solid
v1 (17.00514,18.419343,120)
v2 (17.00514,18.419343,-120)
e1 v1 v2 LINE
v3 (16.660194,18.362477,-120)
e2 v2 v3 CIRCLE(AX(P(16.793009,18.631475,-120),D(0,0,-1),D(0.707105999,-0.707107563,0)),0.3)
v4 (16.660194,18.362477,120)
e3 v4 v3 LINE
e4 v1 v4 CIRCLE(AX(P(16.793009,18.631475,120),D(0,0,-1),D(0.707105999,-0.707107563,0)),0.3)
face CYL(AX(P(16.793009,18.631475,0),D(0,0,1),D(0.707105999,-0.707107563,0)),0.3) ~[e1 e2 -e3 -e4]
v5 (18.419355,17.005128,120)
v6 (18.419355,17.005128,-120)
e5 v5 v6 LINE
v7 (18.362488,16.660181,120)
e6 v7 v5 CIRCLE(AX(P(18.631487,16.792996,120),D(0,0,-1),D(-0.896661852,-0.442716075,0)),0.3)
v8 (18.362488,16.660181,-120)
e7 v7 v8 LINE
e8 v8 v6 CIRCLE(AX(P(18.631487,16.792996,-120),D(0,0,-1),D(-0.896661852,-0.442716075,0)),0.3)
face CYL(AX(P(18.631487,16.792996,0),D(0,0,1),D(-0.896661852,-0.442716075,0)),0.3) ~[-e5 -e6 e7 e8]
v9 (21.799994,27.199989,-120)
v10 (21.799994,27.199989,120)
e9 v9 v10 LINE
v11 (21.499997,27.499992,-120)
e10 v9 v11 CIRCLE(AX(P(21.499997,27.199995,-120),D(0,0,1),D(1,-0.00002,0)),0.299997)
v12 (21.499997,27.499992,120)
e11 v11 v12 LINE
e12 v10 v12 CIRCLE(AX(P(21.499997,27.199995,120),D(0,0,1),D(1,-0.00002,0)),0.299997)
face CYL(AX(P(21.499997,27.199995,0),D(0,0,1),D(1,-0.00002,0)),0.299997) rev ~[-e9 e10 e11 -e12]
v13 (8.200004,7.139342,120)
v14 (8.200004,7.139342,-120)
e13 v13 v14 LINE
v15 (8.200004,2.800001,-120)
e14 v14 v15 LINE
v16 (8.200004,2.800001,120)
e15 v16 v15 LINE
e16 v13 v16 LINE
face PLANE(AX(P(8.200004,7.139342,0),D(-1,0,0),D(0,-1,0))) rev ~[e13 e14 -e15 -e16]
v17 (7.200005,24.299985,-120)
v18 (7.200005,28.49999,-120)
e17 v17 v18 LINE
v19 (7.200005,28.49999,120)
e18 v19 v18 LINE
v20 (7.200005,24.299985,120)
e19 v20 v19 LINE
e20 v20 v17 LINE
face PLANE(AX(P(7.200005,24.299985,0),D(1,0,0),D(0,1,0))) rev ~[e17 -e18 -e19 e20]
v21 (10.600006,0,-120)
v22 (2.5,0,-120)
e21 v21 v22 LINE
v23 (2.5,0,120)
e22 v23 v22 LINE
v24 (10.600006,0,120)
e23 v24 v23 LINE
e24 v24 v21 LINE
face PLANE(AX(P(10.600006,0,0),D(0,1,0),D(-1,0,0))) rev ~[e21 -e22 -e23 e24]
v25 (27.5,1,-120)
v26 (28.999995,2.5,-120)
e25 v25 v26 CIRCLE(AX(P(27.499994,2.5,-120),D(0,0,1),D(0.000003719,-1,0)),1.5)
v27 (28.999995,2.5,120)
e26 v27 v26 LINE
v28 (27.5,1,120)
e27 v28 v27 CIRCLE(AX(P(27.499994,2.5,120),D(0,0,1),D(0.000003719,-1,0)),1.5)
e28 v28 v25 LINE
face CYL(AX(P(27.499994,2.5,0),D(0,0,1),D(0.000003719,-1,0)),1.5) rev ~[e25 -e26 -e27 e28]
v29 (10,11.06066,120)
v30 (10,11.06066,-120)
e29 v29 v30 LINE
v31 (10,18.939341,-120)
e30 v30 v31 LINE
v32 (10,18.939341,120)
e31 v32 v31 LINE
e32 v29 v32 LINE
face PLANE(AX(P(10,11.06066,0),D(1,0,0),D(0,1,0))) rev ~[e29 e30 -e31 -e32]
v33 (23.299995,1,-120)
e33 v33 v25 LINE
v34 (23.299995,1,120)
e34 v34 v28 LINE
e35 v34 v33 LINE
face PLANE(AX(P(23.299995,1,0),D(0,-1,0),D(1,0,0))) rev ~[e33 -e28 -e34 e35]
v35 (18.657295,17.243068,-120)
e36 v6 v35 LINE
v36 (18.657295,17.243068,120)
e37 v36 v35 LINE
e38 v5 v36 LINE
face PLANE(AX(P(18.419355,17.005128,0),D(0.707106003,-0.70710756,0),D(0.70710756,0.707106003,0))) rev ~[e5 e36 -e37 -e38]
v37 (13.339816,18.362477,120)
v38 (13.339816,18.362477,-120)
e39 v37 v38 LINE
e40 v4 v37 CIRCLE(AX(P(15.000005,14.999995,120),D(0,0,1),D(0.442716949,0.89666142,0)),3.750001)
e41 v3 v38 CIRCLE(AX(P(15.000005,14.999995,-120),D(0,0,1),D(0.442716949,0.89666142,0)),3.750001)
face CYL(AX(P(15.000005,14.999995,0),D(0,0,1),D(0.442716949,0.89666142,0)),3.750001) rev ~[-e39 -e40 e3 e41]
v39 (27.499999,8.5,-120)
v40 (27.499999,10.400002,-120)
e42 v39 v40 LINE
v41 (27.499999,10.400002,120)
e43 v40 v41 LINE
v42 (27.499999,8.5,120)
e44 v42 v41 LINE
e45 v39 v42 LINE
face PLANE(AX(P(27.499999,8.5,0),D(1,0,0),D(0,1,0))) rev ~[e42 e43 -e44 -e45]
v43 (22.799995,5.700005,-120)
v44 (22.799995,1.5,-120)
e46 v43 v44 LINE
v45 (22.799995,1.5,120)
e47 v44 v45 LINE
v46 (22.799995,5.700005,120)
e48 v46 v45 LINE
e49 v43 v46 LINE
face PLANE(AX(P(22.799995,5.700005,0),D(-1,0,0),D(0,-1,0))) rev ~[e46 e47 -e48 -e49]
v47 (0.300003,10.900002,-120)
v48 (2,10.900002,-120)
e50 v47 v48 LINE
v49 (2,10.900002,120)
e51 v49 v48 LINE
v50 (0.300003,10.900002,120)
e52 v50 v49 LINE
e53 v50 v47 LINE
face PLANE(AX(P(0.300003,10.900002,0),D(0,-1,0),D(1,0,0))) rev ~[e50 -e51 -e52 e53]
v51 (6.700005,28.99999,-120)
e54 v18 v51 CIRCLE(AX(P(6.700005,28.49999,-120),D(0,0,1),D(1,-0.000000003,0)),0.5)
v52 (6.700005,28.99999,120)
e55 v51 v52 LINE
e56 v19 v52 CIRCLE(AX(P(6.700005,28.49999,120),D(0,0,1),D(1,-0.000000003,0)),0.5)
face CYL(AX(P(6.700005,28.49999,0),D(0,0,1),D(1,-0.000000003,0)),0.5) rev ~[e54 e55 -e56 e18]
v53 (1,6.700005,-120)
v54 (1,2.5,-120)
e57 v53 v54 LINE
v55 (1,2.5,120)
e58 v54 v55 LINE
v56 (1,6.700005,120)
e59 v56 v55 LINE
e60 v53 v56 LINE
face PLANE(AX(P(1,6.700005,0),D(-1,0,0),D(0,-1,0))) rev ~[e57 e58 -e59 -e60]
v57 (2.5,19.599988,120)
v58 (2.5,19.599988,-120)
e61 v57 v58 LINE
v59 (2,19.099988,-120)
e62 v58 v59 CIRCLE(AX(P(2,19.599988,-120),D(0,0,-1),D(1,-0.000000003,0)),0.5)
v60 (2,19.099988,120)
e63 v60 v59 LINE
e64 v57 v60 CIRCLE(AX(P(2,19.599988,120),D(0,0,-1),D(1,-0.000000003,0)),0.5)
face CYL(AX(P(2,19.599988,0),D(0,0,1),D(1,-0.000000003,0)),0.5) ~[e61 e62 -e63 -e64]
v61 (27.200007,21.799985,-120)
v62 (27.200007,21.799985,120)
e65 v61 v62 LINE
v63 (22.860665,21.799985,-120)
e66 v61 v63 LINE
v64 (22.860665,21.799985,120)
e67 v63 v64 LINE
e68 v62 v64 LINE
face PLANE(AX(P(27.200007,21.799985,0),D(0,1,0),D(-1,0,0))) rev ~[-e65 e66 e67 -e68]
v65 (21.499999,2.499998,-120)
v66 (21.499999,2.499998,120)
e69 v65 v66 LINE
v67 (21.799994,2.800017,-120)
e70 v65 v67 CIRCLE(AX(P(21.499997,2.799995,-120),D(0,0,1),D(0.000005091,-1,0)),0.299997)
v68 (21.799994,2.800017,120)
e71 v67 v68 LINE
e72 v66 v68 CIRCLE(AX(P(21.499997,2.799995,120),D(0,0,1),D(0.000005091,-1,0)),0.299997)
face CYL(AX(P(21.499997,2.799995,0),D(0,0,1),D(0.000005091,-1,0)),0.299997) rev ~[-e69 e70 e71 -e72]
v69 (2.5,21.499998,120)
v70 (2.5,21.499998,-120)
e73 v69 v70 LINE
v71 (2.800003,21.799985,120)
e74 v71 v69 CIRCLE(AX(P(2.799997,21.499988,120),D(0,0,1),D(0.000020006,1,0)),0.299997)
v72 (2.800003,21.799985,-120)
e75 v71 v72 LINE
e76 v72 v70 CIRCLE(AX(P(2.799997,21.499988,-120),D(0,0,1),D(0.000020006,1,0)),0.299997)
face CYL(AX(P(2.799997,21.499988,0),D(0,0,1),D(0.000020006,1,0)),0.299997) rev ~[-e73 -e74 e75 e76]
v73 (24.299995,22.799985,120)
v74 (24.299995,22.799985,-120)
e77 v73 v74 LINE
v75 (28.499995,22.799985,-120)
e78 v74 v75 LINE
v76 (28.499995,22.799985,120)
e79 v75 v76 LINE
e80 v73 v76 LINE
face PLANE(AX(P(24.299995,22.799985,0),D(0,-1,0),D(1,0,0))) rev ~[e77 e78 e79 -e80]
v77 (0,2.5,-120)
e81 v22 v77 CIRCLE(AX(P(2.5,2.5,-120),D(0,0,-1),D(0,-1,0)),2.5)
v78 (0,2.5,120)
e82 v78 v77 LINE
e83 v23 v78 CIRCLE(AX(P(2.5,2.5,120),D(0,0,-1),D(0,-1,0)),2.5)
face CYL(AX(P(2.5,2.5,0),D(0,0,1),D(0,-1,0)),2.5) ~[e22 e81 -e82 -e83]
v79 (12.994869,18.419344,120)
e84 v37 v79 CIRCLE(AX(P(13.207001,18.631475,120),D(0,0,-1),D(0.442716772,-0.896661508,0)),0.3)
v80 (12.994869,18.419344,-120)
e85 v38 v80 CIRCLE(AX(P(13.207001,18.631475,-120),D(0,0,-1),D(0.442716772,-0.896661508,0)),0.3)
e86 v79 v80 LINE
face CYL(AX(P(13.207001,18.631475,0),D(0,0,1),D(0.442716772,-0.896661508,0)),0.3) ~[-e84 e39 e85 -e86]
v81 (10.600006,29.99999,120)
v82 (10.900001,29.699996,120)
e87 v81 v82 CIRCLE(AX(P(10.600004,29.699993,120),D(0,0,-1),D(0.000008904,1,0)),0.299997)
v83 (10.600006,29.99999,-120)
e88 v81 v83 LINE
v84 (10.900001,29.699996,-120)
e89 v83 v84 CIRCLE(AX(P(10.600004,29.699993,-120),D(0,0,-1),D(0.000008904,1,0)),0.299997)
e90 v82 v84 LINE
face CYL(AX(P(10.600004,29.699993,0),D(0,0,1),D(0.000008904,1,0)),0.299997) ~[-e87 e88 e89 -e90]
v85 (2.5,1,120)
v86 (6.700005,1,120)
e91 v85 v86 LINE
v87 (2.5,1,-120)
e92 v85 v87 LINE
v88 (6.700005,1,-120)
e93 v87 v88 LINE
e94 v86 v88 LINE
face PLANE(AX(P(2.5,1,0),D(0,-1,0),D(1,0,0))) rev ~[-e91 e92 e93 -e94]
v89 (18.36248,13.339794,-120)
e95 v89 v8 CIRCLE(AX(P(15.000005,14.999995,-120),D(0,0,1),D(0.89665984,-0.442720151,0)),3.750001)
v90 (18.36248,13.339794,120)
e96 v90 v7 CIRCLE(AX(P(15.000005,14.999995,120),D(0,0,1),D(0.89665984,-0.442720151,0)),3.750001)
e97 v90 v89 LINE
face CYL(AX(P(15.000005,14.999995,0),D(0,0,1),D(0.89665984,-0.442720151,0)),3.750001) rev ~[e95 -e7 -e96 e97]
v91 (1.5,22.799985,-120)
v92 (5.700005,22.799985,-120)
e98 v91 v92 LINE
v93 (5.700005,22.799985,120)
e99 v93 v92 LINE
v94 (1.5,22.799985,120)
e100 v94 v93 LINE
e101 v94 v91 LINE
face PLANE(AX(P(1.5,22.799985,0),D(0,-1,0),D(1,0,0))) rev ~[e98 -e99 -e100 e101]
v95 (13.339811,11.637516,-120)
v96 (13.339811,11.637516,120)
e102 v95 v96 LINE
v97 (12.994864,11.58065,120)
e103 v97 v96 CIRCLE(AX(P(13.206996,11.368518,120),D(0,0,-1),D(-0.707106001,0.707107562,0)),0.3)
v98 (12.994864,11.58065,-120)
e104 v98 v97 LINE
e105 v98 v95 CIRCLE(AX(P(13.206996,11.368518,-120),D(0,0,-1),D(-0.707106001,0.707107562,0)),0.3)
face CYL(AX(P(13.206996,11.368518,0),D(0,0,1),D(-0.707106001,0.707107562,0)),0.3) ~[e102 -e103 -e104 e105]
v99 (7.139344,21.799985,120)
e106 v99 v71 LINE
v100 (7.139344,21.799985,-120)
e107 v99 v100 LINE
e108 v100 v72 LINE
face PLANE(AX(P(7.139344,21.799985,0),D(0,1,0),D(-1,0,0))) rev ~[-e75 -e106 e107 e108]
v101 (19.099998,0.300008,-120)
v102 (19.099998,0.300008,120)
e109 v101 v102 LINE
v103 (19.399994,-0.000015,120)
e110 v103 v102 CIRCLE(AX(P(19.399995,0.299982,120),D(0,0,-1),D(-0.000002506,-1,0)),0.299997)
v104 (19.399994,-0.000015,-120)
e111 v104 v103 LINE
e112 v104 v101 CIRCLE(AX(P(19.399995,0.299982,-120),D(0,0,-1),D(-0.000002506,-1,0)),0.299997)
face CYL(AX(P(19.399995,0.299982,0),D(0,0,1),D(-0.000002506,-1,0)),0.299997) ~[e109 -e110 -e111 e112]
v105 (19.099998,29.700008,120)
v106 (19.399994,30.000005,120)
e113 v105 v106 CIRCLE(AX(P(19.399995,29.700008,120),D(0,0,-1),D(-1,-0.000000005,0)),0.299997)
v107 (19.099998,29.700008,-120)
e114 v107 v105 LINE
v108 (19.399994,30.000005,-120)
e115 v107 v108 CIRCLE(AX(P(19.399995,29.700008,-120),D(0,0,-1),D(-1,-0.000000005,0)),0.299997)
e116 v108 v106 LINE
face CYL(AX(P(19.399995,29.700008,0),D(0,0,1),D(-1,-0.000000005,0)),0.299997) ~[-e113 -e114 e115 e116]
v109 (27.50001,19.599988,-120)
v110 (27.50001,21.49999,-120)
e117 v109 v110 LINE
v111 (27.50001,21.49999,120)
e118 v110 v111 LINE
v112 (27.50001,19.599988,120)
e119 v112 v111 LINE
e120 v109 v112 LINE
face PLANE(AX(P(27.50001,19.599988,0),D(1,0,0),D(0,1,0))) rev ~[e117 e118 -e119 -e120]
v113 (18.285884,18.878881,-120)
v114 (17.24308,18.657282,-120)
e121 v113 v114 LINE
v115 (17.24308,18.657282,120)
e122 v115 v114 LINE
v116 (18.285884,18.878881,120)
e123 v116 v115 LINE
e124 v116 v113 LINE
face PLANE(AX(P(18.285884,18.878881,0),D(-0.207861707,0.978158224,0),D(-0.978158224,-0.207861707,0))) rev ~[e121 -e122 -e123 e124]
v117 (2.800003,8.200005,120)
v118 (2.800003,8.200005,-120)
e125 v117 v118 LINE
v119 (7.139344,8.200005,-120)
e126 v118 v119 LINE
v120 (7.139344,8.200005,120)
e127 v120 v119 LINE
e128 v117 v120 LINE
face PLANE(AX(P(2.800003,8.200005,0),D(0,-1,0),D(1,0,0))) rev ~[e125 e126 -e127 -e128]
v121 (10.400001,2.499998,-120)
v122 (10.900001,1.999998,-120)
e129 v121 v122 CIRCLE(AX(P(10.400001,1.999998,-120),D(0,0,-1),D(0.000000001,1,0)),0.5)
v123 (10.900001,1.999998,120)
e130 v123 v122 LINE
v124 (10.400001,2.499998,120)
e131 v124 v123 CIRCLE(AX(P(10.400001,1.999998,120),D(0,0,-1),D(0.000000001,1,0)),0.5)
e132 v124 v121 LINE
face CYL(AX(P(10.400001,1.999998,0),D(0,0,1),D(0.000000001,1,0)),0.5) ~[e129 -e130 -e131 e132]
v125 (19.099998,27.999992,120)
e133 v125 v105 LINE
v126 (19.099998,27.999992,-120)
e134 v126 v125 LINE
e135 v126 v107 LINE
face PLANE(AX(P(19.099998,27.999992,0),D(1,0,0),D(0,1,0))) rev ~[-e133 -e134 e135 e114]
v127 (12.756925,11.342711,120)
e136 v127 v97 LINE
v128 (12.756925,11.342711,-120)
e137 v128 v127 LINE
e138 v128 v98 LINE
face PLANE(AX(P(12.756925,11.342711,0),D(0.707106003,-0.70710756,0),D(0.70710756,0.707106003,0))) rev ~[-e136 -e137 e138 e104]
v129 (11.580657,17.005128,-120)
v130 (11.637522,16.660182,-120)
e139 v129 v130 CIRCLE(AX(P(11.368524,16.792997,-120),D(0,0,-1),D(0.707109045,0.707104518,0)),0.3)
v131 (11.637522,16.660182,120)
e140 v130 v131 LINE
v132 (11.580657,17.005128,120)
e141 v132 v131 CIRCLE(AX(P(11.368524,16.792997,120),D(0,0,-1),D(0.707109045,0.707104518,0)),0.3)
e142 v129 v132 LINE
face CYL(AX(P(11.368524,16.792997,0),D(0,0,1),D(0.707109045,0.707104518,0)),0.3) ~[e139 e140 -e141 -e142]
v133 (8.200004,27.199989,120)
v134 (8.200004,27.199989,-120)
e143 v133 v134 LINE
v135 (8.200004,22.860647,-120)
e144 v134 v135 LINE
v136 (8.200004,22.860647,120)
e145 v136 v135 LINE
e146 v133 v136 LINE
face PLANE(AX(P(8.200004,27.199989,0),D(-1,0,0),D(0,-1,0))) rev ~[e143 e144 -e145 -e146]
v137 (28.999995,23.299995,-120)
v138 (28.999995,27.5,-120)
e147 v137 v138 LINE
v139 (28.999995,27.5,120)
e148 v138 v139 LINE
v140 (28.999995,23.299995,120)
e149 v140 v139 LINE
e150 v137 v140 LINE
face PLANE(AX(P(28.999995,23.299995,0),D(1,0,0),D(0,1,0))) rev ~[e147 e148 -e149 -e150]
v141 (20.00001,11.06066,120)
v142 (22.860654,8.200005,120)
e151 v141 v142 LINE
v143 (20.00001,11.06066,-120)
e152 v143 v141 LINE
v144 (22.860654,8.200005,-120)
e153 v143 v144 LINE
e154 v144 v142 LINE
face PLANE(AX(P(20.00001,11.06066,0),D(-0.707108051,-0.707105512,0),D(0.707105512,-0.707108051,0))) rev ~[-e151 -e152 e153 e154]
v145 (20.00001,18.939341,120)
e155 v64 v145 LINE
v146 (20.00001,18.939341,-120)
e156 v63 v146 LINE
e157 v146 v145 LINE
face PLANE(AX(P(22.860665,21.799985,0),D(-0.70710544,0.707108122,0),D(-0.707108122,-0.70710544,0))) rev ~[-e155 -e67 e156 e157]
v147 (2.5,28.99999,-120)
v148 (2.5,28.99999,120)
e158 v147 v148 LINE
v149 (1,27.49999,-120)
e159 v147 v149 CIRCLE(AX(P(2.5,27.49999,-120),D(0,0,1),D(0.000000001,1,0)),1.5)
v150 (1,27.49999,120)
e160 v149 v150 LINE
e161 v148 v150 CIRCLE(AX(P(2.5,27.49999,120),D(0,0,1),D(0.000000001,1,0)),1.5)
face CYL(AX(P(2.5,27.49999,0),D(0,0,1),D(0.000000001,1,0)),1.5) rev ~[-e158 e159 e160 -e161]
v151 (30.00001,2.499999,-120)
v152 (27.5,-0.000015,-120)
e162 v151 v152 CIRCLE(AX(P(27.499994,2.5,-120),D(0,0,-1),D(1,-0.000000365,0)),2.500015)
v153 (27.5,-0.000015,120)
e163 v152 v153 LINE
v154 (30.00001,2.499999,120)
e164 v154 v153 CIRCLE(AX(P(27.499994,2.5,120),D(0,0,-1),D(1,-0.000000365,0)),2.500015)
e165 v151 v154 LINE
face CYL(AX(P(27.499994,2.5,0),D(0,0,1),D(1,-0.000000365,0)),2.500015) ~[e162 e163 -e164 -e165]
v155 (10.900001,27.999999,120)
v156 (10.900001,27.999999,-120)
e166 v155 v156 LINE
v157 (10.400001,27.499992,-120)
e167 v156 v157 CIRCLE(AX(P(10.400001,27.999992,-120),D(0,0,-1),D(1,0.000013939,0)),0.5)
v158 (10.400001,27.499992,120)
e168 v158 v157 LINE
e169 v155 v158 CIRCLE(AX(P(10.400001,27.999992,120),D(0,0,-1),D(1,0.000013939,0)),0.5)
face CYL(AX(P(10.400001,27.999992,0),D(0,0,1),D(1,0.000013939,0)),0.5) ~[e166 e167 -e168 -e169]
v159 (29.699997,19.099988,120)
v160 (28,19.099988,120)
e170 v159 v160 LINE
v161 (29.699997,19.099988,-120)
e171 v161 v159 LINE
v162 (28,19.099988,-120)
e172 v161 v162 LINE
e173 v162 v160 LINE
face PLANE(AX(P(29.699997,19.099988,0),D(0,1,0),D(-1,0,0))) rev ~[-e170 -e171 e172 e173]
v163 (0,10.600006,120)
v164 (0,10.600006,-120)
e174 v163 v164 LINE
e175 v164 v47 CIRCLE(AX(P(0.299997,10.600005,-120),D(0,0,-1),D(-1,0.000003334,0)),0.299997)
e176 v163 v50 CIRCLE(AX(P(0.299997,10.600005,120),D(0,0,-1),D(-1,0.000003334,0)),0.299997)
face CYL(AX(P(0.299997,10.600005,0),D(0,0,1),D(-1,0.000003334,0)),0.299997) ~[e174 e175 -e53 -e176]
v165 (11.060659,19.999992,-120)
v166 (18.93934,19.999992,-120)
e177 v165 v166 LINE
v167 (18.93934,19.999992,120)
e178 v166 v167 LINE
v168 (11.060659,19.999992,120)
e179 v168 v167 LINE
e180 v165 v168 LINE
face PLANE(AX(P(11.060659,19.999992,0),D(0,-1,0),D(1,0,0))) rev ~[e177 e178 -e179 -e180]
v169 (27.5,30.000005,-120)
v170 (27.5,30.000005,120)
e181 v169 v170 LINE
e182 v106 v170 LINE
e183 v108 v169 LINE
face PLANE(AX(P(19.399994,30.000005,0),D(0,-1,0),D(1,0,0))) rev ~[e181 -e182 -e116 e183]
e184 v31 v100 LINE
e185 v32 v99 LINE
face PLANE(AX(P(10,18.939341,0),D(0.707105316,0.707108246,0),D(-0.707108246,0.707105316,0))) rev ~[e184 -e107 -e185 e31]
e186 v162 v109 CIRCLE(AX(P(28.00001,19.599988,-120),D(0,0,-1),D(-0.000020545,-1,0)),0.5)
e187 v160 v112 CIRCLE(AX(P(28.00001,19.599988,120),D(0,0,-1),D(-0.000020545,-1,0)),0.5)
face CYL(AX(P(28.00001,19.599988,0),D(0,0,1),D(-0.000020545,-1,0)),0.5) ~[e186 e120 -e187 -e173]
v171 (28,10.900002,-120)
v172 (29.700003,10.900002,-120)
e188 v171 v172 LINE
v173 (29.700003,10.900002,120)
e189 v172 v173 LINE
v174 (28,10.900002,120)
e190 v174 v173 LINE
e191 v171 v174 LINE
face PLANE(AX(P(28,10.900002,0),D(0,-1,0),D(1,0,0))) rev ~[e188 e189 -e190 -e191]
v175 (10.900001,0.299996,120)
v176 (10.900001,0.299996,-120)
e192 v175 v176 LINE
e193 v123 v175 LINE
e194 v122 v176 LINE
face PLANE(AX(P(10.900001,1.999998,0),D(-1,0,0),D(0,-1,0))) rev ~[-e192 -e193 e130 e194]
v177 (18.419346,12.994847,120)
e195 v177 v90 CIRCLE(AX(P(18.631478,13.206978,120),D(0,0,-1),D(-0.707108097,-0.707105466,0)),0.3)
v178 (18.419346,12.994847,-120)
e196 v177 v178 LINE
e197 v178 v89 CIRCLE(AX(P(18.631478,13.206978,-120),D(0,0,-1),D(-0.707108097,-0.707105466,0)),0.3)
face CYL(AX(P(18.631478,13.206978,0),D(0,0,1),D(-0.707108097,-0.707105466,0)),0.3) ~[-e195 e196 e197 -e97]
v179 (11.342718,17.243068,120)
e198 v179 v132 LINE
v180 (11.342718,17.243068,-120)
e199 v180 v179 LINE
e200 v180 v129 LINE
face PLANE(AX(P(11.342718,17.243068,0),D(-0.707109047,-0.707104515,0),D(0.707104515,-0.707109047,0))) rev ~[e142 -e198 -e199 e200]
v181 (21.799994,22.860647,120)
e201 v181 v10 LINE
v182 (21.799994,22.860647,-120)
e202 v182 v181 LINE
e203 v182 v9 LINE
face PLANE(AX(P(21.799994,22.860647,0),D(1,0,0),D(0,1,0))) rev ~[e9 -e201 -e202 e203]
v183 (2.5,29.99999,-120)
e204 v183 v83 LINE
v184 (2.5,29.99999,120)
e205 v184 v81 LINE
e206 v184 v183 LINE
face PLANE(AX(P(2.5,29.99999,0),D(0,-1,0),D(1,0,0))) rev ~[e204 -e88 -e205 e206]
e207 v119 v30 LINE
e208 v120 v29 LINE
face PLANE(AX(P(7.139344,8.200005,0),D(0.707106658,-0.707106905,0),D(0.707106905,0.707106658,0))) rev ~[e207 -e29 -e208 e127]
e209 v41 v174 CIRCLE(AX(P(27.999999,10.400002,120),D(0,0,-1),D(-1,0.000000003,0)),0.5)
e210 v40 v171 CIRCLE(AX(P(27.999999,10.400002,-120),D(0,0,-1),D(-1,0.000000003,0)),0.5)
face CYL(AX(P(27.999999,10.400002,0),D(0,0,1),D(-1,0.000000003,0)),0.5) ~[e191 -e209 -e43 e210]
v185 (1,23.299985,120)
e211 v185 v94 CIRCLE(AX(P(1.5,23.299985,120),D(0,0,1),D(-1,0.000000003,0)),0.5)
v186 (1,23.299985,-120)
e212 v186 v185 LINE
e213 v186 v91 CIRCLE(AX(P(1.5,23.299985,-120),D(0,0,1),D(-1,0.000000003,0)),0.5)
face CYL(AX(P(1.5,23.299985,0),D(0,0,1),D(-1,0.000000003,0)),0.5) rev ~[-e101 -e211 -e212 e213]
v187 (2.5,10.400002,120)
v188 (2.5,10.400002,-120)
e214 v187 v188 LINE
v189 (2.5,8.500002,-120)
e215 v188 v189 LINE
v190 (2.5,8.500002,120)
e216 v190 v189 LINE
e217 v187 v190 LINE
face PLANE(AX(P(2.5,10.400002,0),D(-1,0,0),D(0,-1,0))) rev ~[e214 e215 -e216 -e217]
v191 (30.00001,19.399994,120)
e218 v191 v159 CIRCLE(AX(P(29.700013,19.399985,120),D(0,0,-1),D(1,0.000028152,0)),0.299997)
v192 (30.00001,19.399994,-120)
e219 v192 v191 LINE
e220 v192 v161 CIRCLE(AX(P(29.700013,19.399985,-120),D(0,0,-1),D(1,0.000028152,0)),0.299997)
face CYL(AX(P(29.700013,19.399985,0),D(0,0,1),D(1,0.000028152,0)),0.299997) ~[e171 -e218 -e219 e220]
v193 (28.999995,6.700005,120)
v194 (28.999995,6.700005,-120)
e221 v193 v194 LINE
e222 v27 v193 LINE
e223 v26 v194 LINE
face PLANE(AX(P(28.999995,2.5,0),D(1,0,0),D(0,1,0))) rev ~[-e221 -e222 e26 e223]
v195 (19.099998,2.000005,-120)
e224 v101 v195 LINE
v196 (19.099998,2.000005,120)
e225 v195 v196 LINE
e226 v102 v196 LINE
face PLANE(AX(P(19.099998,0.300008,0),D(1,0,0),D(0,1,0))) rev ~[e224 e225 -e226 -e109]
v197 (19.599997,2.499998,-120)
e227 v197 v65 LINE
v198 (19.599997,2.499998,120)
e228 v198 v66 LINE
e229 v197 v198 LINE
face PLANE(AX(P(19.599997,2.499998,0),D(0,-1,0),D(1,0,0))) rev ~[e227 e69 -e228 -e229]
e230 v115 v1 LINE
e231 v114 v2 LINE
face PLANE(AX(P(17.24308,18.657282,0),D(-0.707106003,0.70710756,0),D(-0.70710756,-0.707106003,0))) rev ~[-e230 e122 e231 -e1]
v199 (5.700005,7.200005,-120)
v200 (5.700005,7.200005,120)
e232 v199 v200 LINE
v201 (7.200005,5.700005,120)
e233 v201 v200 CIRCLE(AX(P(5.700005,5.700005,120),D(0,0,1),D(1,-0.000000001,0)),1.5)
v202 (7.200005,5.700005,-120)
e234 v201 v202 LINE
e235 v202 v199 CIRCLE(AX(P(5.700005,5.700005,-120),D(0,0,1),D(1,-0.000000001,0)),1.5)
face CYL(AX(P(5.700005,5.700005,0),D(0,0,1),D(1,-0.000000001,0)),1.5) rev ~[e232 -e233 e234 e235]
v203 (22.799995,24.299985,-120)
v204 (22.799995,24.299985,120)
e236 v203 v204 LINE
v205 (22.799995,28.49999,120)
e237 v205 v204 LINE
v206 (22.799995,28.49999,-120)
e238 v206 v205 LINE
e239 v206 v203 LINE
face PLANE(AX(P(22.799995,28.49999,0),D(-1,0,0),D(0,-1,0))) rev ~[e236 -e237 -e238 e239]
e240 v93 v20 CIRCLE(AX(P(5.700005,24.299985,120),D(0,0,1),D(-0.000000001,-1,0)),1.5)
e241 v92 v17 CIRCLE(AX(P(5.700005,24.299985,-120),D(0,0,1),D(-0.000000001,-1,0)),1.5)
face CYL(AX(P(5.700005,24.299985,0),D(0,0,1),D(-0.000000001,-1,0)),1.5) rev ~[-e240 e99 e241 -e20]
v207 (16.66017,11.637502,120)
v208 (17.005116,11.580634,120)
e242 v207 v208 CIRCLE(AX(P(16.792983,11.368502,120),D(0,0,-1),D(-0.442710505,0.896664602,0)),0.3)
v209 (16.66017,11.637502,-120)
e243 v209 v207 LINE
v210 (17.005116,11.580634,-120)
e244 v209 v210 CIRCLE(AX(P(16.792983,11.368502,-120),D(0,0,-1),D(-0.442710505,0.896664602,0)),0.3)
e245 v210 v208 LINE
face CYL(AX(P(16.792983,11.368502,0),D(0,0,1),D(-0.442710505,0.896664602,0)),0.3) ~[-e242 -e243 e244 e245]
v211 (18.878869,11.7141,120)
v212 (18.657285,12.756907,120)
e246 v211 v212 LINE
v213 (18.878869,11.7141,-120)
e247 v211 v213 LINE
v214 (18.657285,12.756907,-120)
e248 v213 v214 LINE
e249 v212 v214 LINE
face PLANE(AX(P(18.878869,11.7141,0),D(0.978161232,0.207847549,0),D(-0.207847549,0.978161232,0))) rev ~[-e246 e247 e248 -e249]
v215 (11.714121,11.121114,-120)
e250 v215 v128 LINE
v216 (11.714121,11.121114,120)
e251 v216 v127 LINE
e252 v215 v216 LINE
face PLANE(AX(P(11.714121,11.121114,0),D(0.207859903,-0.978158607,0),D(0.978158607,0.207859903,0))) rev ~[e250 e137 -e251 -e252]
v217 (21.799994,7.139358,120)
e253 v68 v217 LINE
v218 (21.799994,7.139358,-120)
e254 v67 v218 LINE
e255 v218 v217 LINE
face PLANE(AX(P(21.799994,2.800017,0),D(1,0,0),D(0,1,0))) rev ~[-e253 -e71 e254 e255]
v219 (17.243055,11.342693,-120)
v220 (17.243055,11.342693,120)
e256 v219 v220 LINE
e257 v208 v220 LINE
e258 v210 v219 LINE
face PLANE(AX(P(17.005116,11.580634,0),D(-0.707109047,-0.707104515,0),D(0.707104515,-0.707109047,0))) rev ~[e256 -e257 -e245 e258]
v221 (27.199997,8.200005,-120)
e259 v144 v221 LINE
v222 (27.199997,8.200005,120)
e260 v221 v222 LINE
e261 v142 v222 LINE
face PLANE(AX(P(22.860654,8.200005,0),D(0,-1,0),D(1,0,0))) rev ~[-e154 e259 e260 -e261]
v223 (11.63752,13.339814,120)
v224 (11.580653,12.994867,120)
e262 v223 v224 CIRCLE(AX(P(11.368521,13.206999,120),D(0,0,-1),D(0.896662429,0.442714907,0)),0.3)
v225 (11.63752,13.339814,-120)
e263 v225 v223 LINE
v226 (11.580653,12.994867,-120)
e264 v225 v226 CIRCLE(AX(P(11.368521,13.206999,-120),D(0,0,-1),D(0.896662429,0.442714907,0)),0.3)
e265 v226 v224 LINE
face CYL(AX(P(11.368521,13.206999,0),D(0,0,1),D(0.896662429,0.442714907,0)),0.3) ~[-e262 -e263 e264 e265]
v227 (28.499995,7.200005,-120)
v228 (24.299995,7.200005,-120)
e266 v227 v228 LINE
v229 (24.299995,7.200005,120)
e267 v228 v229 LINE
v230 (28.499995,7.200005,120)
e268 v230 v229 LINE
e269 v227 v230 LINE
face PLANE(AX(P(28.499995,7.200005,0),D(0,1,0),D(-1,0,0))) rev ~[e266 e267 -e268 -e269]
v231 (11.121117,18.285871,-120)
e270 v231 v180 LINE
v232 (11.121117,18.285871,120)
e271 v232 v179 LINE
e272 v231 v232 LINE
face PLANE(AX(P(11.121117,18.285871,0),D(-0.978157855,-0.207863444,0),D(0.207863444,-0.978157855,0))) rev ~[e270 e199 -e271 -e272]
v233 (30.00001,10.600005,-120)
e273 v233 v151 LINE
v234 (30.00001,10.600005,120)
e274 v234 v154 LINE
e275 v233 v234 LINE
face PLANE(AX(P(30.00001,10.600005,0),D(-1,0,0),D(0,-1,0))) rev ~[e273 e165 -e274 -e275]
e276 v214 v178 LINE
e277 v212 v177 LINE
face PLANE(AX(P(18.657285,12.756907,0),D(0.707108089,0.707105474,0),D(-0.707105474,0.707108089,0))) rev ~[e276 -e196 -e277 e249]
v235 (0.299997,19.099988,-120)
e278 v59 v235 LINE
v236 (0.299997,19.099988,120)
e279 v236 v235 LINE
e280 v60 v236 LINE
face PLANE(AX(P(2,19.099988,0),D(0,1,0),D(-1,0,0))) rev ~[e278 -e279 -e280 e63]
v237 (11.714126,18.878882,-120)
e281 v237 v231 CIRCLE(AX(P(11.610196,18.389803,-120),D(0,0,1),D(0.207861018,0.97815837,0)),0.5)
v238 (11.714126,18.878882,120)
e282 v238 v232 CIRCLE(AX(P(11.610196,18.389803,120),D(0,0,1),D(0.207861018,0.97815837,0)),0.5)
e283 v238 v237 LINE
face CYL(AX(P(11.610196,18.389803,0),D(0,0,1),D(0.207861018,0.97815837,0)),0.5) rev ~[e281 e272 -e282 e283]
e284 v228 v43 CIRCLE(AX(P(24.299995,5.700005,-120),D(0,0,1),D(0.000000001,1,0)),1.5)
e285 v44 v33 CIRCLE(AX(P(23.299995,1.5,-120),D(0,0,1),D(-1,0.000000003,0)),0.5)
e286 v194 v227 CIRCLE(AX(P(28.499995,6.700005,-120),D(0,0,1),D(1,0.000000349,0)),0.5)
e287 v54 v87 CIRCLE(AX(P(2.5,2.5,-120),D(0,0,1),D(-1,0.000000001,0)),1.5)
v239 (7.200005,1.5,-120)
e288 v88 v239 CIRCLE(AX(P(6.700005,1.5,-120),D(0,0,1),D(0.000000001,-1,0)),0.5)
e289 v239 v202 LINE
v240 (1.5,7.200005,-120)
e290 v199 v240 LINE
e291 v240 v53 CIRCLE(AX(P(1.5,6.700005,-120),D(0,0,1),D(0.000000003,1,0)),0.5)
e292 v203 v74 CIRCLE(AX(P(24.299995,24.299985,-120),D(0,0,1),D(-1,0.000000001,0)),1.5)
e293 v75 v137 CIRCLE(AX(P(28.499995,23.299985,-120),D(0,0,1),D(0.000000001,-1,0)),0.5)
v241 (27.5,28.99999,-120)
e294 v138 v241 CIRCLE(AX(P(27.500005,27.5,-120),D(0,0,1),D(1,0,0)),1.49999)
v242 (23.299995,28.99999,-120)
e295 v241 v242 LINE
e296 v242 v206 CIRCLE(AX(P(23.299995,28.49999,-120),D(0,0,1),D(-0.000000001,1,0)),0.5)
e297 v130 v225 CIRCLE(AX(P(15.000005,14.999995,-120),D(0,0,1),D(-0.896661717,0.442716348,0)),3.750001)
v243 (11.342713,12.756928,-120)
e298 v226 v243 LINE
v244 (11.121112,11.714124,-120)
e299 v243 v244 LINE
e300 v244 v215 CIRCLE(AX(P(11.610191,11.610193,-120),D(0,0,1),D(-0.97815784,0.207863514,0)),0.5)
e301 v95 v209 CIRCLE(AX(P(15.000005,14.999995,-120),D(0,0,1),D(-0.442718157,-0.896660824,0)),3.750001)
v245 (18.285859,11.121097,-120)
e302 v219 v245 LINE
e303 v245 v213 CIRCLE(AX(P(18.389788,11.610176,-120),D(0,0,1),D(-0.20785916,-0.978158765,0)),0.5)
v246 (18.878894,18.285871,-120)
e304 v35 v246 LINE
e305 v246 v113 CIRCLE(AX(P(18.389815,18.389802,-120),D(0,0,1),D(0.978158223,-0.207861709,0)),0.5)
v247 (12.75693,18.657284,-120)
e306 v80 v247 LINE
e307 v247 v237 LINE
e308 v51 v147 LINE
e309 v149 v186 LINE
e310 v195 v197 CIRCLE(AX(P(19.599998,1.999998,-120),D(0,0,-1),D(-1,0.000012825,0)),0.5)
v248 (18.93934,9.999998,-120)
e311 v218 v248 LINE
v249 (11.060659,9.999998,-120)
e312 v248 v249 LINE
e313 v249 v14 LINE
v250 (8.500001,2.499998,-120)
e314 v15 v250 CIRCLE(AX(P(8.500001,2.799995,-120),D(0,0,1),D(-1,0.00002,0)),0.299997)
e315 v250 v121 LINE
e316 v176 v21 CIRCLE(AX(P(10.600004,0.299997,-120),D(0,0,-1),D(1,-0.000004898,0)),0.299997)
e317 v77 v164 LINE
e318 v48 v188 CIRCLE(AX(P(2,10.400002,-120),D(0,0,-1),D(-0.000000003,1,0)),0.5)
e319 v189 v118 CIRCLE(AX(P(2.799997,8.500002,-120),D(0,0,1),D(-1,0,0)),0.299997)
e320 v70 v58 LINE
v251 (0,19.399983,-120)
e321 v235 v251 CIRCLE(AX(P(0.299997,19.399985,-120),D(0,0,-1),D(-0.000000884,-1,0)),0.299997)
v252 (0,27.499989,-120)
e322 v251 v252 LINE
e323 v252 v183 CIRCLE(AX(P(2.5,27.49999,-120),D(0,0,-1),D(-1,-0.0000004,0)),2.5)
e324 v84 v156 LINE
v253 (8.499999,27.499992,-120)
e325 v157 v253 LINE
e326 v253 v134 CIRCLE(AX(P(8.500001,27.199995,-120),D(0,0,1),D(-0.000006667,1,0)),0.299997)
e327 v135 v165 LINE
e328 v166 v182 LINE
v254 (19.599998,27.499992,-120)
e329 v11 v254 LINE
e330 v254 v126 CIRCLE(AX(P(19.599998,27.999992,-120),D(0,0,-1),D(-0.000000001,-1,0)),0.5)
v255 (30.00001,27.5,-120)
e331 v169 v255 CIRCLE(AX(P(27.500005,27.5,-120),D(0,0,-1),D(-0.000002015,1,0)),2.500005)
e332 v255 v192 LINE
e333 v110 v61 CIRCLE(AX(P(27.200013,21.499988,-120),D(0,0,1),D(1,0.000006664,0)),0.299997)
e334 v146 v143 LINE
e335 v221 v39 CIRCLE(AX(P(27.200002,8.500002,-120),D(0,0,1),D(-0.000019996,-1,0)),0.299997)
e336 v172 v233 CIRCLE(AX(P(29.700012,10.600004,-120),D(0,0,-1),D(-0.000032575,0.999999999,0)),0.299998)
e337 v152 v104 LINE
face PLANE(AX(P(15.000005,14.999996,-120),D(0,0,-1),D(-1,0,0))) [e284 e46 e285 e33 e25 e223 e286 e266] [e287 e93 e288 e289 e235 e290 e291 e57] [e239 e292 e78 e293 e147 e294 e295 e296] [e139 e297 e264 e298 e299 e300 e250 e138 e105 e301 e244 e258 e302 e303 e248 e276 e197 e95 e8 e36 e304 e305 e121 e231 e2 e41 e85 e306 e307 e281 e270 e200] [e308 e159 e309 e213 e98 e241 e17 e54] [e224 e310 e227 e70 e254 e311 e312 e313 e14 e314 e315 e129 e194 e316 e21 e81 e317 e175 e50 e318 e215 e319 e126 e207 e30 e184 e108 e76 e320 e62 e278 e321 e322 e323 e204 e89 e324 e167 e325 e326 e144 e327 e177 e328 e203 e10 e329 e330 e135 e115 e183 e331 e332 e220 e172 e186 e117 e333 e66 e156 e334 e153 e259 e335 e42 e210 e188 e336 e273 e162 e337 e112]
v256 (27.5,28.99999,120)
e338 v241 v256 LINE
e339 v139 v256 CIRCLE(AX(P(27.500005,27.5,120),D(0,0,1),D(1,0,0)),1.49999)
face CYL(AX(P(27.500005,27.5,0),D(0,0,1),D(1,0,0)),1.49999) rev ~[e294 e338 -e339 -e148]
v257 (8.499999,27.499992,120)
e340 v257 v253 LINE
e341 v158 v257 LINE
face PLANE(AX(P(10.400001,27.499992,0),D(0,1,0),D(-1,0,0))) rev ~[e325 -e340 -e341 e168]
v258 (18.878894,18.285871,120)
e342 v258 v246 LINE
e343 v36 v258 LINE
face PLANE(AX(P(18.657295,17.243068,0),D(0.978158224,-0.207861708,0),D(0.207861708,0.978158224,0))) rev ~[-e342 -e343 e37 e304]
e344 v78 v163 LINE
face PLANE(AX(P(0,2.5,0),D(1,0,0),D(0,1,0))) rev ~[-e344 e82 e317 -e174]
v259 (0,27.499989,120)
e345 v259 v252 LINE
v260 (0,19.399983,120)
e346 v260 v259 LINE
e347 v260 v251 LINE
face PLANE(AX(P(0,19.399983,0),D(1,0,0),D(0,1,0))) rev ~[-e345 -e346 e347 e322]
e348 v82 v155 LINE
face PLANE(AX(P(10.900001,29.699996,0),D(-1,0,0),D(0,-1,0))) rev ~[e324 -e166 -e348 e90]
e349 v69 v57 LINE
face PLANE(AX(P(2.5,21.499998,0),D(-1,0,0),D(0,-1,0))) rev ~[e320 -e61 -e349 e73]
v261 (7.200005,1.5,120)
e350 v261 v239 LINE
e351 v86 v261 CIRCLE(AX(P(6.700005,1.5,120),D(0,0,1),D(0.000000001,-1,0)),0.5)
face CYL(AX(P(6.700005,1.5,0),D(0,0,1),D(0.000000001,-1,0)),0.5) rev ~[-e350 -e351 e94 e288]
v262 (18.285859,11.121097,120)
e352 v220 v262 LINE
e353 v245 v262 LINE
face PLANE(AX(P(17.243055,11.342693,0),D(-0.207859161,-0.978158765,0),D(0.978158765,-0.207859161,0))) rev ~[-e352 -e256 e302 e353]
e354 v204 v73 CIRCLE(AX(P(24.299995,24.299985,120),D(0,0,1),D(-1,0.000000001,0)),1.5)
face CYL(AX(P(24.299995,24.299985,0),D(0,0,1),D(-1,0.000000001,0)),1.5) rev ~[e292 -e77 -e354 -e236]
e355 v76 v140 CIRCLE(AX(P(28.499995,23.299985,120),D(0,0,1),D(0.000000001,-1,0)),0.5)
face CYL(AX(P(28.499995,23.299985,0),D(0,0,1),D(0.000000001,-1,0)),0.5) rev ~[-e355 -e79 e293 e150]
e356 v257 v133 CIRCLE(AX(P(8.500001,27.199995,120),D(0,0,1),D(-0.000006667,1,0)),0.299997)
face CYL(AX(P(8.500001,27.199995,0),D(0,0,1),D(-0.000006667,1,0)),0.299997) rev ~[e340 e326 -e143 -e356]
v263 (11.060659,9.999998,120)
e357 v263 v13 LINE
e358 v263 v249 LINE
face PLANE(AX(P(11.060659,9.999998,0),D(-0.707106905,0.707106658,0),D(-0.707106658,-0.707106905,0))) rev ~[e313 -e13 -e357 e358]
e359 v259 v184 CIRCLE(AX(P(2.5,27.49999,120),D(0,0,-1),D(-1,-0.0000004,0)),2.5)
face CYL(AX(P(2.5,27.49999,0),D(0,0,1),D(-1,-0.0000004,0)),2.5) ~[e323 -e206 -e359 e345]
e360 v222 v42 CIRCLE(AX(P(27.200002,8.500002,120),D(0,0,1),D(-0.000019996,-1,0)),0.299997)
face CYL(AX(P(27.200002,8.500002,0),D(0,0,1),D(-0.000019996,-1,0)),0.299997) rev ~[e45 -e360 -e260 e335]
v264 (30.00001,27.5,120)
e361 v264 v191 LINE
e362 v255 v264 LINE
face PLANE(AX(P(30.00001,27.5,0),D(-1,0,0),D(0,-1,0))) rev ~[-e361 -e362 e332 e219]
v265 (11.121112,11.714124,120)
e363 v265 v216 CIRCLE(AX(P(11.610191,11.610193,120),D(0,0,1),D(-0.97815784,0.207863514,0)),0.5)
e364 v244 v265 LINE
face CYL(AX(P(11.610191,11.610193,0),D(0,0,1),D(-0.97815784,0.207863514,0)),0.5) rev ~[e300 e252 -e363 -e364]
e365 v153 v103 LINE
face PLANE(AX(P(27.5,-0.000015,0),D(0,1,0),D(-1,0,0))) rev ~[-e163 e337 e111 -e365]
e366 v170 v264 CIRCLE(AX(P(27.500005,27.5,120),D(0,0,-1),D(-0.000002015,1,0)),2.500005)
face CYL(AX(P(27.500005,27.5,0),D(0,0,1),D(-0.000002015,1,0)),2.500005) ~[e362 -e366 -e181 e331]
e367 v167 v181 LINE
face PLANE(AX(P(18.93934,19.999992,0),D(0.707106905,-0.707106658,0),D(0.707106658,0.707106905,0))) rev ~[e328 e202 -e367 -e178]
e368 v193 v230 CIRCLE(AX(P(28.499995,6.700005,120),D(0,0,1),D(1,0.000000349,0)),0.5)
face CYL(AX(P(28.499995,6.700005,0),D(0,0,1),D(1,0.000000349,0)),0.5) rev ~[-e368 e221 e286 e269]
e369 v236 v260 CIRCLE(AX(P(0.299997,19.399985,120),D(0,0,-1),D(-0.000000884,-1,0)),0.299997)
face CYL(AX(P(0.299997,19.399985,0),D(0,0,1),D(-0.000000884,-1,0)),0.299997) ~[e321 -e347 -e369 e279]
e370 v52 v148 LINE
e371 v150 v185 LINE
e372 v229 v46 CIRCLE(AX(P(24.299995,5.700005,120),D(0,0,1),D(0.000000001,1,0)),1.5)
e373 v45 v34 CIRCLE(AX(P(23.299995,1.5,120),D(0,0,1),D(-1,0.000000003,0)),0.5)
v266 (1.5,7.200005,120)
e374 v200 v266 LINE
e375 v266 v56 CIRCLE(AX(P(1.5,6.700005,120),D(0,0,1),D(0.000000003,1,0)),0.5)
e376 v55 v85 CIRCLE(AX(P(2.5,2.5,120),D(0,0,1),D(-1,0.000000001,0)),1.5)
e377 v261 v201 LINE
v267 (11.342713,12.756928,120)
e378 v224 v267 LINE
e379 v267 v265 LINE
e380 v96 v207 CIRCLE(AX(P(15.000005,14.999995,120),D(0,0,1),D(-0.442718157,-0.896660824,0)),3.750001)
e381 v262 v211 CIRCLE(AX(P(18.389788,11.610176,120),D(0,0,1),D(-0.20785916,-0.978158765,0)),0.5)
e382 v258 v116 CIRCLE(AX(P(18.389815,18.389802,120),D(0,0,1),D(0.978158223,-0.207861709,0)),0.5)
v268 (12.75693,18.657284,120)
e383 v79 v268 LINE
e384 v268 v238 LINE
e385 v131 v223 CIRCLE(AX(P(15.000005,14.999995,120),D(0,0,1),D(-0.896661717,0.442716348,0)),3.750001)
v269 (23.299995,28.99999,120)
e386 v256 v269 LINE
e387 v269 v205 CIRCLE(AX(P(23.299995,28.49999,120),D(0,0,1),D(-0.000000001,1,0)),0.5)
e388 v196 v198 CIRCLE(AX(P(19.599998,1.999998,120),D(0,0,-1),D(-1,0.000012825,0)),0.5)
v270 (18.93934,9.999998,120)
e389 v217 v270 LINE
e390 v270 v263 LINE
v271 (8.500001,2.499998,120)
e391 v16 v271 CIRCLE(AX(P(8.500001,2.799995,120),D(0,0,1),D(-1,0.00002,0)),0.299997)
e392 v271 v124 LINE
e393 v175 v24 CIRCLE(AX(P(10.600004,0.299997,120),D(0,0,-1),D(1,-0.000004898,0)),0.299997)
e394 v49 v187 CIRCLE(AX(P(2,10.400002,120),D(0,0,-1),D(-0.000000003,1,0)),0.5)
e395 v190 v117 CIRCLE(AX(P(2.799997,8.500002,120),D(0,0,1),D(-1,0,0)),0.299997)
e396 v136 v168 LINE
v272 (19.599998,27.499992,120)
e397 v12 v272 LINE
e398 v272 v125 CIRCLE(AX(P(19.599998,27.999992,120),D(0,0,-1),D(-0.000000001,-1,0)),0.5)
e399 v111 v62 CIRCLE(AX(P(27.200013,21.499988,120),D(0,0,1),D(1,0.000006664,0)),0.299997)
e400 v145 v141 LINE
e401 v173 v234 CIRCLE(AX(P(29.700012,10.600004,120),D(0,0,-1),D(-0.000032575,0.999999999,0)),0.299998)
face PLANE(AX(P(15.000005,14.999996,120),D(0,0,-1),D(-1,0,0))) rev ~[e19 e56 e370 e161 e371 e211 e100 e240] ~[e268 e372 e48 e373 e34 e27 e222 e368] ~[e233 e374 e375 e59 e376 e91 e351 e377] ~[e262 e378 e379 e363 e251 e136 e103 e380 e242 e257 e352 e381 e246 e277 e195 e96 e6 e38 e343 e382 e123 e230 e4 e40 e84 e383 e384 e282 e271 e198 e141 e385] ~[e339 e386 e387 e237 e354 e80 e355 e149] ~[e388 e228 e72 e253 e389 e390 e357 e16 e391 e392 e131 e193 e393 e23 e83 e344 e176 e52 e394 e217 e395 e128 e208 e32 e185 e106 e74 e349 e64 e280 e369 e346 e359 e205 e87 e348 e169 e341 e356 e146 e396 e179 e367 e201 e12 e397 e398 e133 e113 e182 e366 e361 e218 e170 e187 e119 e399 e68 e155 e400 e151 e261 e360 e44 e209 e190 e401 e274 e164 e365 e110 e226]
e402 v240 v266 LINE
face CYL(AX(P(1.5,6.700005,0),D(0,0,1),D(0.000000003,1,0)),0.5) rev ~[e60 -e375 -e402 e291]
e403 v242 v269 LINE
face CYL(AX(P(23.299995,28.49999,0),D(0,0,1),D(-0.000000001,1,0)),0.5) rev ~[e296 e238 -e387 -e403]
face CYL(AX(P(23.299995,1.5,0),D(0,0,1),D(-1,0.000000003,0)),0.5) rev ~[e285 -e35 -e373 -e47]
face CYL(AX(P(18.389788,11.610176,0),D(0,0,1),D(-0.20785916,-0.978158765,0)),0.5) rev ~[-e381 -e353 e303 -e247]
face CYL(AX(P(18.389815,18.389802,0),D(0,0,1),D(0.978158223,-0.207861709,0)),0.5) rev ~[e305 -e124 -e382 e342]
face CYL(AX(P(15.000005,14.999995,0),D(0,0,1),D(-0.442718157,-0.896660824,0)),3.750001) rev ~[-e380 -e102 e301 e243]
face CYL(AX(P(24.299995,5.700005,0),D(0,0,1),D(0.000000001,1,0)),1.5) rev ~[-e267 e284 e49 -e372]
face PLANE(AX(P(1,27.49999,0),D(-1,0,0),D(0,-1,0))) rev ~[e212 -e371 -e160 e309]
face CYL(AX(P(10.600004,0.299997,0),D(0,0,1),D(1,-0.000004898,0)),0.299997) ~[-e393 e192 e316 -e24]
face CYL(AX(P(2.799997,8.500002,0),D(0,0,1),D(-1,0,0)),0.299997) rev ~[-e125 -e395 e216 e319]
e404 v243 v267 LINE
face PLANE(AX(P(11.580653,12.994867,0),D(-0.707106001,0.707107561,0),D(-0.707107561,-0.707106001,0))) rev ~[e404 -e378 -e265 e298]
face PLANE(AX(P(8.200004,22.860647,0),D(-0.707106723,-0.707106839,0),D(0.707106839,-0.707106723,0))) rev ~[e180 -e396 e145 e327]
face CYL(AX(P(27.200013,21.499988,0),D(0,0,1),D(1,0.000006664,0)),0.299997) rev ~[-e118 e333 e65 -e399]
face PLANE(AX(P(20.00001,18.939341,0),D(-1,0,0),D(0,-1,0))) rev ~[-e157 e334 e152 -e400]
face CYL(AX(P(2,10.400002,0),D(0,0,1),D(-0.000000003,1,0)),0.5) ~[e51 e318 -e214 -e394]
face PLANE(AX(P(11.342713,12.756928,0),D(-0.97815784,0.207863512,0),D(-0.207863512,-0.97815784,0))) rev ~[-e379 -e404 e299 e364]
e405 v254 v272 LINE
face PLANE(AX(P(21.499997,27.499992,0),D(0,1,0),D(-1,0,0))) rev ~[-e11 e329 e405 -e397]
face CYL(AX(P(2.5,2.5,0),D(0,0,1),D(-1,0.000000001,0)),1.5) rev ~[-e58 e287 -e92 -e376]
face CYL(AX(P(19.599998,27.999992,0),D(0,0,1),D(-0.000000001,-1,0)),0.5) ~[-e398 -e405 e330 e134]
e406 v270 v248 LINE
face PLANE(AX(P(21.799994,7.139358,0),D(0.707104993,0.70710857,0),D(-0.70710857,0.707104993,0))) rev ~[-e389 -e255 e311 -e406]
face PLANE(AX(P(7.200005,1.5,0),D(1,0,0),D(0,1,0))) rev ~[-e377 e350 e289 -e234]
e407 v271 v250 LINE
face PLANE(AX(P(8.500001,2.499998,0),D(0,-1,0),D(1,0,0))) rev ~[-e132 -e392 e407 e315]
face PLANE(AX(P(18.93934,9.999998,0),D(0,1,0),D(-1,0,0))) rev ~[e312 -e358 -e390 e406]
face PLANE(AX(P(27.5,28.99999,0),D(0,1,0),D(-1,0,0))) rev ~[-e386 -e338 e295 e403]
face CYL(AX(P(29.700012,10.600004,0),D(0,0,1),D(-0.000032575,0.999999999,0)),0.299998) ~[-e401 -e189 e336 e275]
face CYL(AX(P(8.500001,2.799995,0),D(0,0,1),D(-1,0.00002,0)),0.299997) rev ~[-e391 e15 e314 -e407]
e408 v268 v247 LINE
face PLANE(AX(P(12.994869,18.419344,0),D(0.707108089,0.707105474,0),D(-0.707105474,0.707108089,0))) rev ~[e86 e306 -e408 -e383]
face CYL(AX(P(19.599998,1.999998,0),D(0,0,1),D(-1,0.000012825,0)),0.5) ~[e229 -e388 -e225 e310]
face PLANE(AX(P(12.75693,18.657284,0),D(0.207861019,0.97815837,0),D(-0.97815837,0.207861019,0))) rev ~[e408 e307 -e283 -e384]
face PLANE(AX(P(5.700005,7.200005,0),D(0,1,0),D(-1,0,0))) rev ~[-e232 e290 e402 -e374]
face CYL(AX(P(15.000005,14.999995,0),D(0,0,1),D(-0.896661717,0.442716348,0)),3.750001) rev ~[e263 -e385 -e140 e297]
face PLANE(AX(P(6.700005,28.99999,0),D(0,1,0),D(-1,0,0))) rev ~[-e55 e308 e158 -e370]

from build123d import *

# Parameters (mm, degrees)
BOSS_EXTRUDE1_DEPTH = 120


with BuildPart() as part:
    # Sketch1 → Boss-Extrude1 (new body, symmetric)
    with BuildSketch(Plane.XY):
        with BuildLine():
            Line((21.799994, 7.139358412), (18.939339529, 9.999998412))
            Line((18.939339529, 9.999998412), (11.060658529, 9.999998412))
            Line((11.060658529, 9.999998412), (8.200003529, 7.139342412))
            Line((8.200003529, 7.139342412), (8.200003529, 2.800001412))
            ThreePointArc((8.200003529, 2.800001412), (8.287868495, 2.58786762), (8.500000529, 2.499998412))
            Line((8.500000529, 2.499998412), (10.400000529, 2.499998412))
            ThreePointArc((10.400000529, 2.499998412), (10.75355392, 2.353551802), (10.900000529, 1.999998412))
            Line((10.900000529, 1.999998412), (10.900000529, 0.299995529))
            ThreePointArc((10.900000529, 0.299995529), (10.812133796, 0.08786744), (10.600006, 0))
            Line((10.600006, 0), (2.5, 0))
            ThreePointArc((2.5, 0), (0.732233047, 0.732233047), (0, 2.5))
            Line((0, 2.5), (0, 10.600006))
            ThreePointArc((0, 10.600006), (0.087869562, 10.812137388), (0.300003, 10.900002))
            Line((0.300003, 10.900002), (2, 10.900002))
            ThreePointArc((2, 10.900002), (2.353553391, 10.753555391), (2.5, 10.400002))
            Line((2.5, 10.400002), (2.5, 8.500002))
            ThreePointArc((2.5, 8.500002), (2.587869099, 8.287870075), (2.80000269, 8.200005))
            Line((2.80000269, 8.200005), (7.139344, 8.200005))
            Line((7.139344, 8.200005), (10, 11.06066))
            Line((10, 11.06066), (10, 18.939341))
            Line((10, 18.939341), (7.139344, 21.799985148))
            Line((7.139344, 21.799985148), (2.800003, 21.799985148))
            ThreePointArc((2.800003, 21.799985148), (2.587872691, 21.712123666), (2.5, 21.499998))
            Line((2.5, 21.499998), (2.5, 19.599988398))
            ThreePointArc((2.5, 19.599988398), (2.353553317, 19.246434831), (1.99999975, 19.099988148))
            Line((1.99999975, 19.099988148), (0.299996735, 19.099988148))
            ThreePointArc((0.299996735, 19.099988148), (0.0878677, 19.187854622), (0, 19.399983148))
            Line((0, 19.399983148), (0, 27.499989148))
            ThreePointArc((0, 27.499989148), (0.732232787, 29.267756841), (2.500000265, 29.999990148))
            Line((2.500000265, 29.999990148), (10.6000062, 29.999990148))
            ThreePointArc((10.6000062, 29.999990148), (10.812133482, 29.912123021), (10.900000529, 29.699995706))
            Line((10.900000529, 29.699995706), (10.900000529, 27.999998706))
            ThreePointArc((10.900000529, 27.999998706), (10.753556384, 27.64644081), (10.400000529, 27.499991736))
            Line((10.400000529, 27.499991736), (8.499998529, 27.499991736))
            ThreePointArc((8.499998529, 27.499991736), (8.287867897, 27.41212193), (8.200003529, 27.199989046))
            Line((8.200003529, 27.199989046), (8.200003529, 22.860646736))
            Line((8.200003529, 22.860646736), (11.060659, 19.999991736))
            Line((11.060659, 19.999991736), (18.93934, 19.999991736))
            Line((18.93934, 19.999991736), (21.799994, 22.860646736))
            Line((21.799994, 22.860646736), (21.799994, 27.199988736))
            ThreePointArc((21.799994, 27.199988736), (21.712128868, 27.412122694), (21.499996529, 27.499991736))
            Line((21.499996529, 27.499991736), (19.599998, 27.499991736))
            ThreePointArc((19.599998, 27.499991736), (19.246444609, 27.646438346), (19.099998, 27.999991736))
            Line((19.099998, 27.999991736), (19.099998, 29.700007823))
            ThreePointArc((19.099998, 29.700007823), (19.187864526, 29.912137383), (19.3999935, 30.000005323))
            Line((19.3999935, 30.000005323), (27.4999995, 30.000005323))
            ThreePointArc((27.4999995, 30.000005323), (29.267773609, 29.267772326), (30.000009773, 27.499999529))
            Line((30.000009773, 27.499999529), (30.000009773, 19.399993594))
            ThreePointArc((30.000009773, 19.399993594), (29.912139919, 19.187852468), (29.6999965, 19.099988148))
            Line((29.6999965, 19.099988148), (27.9999995, 19.099988148))
            ThreePointArc((27.9999995, 19.099988148), (27.64645275, 19.246438389), (27.500009772, 19.599988147))
            Line((27.500009772, 19.599988147), (27.500009772, 21.499990147))
            ThreePointArc((27.500009772, 21.499990147), (27.412139967, 21.712120779), (27.200007083, 21.799985148))
            Line((27.200007083, 21.799985148), (22.860664773, 21.799985148))
            Line((22.860664773, 21.799985148), (20.000009773, 18.939341))
            Line((20.000009773, 18.939341), (20.000009773, 11.06066))
            Line((20.000009773, 11.06066), (22.8606545, 8.200005))
            Line((22.8606545, 8.200005), (27.1999965, 8.200005))
            ThreePointArc((27.1999965, 8.200005), (27.412129602, 8.287869277), (27.499999499, 8.500000052))
            Line((27.499999499, 8.500000052), (27.499999499, 10.400002001))
            ThreePointArc((27.499999499, 10.400002001), (27.646446109, 10.753555391), (27.9999995, 10.900002))
            Line((27.9999995, 10.900002), (29.7000025, 10.900002))
            ThreePointArc((29.7000025, 10.900002), (29.912138814, 10.812138492), (30.000009773, 10.600005265))
            Line((30.000009773, 10.600005265), (30.000009773, 2.499999265))
            ThreePointArc((30.000009773, 2.499999265), (29.267773942, 0.732224081), (27.500000177, -1.5175e-05))
            Line((27.500000177, -1.5175e-05), (19.399994245, -1.5175e-05))
            ThreePointArc((19.399994245, -1.5175e-05), (19.187855627, 0.08786137), (19.099998, 0.300007824))
            Line((19.099998, 0.300007824), (19.099998, 2.000004824))
            ThreePointArc((19.099998, 2.000004824), (19.246446356, 2.353553549), (19.599996529, 2.499998412))
            Line((19.599996529, 2.499998412), (21.499998529, 2.499998412))
            ThreePointArc((21.499998529, 2.499998412), (21.712135123, 2.587873708), (21.799994, 2.800017102))
            Line((21.799994, 2.800017102), (21.799994, 7.139358412))
        make_face()
        with BuildLine():
            Line((18.878868942, 11.714100014), (18.657285002, 12.75690673))
            Line((18.657285002, 12.75690673), (18.419345869, 12.994846743))
            ThreePointArc((18.419345869, 12.994846743), (18.335473622, 13.158180995), (18.362480424, 13.339793948))
            ThreePointArc((18.362480424, 13.339793948), (18.750006156, 14.99998656), (18.362487962, 16.660180933))
            ThreePointArc((18.362487962, 16.660180933), (18.335481889, 16.841794157), (18.419354758, 17.005128271))
            Line((18.419354758, 17.005128271), (18.657294593, 17.243067582))
            Line((18.657294593, 17.243067582), (18.878893628, 18.28587109))
            ThreePointArc((18.878893628, 18.28587109), (18.743367928, 18.743355263), (18.285883756, 18.878880962))
            Line((18.285883756, 18.878880962), (17.243080247, 18.657281928))
            Line((17.243080247, 18.657281928), (17.005140412, 18.419342617))
            ThreePointArc((17.005140412, 18.419342617), (16.84180664, 18.335470316), (16.660194009, 18.362476539))
            ThreePointArc((16.660194009, 18.362476539), (15.00000526, 18.749996344), (13.339816433, 18.362476869))
            ThreePointArc((13.339816433, 18.362476869), (13.158203164, 18.335470716), (12.994869031, 18.419343671))
            Line((12.994869031, 18.419343671), (12.756929898, 18.657283684))
            Line((12.756929898, 18.657283684), (11.714126233, 18.878881984))
            ThreePointArc((11.714126233, 18.878881984), (11.256641967, 18.743355772), (11.121116891, 18.28587117))
            Line((11.121116891, 18.28587117), (11.342717777, 17.243068055))
            Line((11.342717777, 17.243068055), (11.580656587, 17.00512772))
            ThreePointArc((11.580656587, 17.00512772), (11.664528478, 16.841794182), (11.637522309, 16.660181943))
            ThreePointArc((11.637522309, 16.660181943), (11.250003617, 14.999998075), (11.637519652, 13.339813587))
            ThreePointArc((11.637519652, 13.339813587), (11.664525497, 13.15820068), (11.580652734, 12.994866901))
            Line((11.580652734, 12.994866901), (11.342712898, 12.75692759))
            Line((11.342712898, 12.75692759), (11.12111194, 11.71412449))
            ThreePointArc((11.12111194, 11.71412449), (11.256636795, 11.256640068), (11.714120718, 11.121113524))
            Line((11.714120718, 11.121113524), (12.756924635, 11.342710635))
            Line((12.756924635, 11.342710635), (12.99486447, 11.580649946))
            ThreePointArc((12.99486447, 11.580649946), (13.158198441, 11.66452228), (13.339811235, 11.637515845))
            ThreePointArc((13.339811235, 11.637515845), (14.999988879, 11.249993804), (16.660169832, 11.637501672))
            ThreePointArc((16.660169832, 11.637501672), (16.841782614, 11.664506717), (17.005115943, 11.580633605))
            Line((17.005115943, 11.580633605), (17.243054753, 11.34269327))
            Line((17.243054753, 11.34269327), (18.285858839, 11.12109695))
            ThreePointArc((18.285858839, 11.12109695), (18.743339639, 11.256620822), (18.878868942, 11.714100014))
        make_face(mode=Mode.SUBTRACT)
        with BuildLine():
            Line((23.299995, 1), (27.5, 1))
            ThreePointArc((27.5, 1), (28.56065669, 1.439341852), (28.999994597, 2.500000176))
            Line((28.999994597, 2.500000176), (28.999994597, 6.700005176))
            ThreePointArc((28.999994597, 6.700005176), (28.853547926, 7.053558453), (28.499994597, 7.200005))
            Line((28.499994597, 7.200005), (24.299995, 7.200005))
            ThreePointArc((24.299995, 7.200005), (23.239334828, 6.760665172), (22.799995, 5.700005))
            Line((22.799995, 5.700005), (22.799995, 1.5))
            ThreePointArc((22.799995, 1.5), (22.946441609, 1.146446609), (23.299995, 1))
        make_face(mode=Mode.SUBTRACT)
        with BuildLine():
            Line((2.5, 1), (6.700005, 1))
            ThreePointArc((6.700005, 1), (7.05355839, 1.146446609), (7.200005, 1.5))
            Line((7.200005, 1.5), (7.200005, 5.700005))
            ThreePointArc((7.200005, 5.700005), (6.760665172, 6.760665172), (5.700005, 7.200005))
            Line((5.700005, 7.200005), (1.5, 7.200005))
            ThreePointArc((1.5, 7.200005), (1.146446609, 7.053558391), (1, 6.700005))
            Line((1, 6.700005), (1, 2.5))
            ThreePointArc((1, 2.5), (1.439339828, 1.439339828), (2.5, 1))
        make_face(mode=Mode.SUBTRACT)
        with BuildLine():
            Line((1.5, 22.799985148), (5.700005, 22.799985148))
            ThreePointArc((5.700005, 22.799985148), (6.760665172, 23.239324976), (7.200005, 24.299985148))
            Line((7.200005, 24.299985148), (7.200005, 28.499990148))
            ThreePointArc((7.200005, 28.499990148), (7.053558391, 28.853543539), (6.700005, 28.999990148))
            Line((6.700005, 28.999990148), (2.5, 28.999990148))
            ThreePointArc((2.5, 28.999990148), (1.439339828, 28.56065032), (1, 27.499990148))
            Line((1, 27.499990148), (1, 23.299985148))
            ThreePointArc((1, 23.299985148), (1.146446609, 22.946431757), (1.5, 22.799985148))
        make_face(mode=Mode.SUBTRACT)
        with BuildLine():
            Line((24.299995, 22.799985148), (28.499994597, 22.799985148))
            ThreePointArc((28.499994597, 22.799985148), (28.853551502, 22.946435272), (28.999994597, 23.299995088))
            Line((28.999994597, 23.299995088), (28.999994597, 27.500000088))
            ThreePointArc((28.999994597, 27.500000088), (28.560656076, 28.560654835), (27.5, 28.999990148))
            Line((27.5, 28.999990148), (23.299995, 28.999990148))
            ThreePointArc((23.299995, 28.999990148), (22.94644161, 28.853543539), (22.799995, 28.499990148))
            Line((22.799995, 28.499990148), (22.799995, 24.299985148))
            ThreePointArc((22.799995, 24.299985148), (23.239334828, 23.239324976), (24.299995, 22.799985148))
        make_face(mode=Mode.SUBTRACT)
    extrude(amount=BOSS_EXTRUDE1_DEPTH, both=True)


solid = part.part
